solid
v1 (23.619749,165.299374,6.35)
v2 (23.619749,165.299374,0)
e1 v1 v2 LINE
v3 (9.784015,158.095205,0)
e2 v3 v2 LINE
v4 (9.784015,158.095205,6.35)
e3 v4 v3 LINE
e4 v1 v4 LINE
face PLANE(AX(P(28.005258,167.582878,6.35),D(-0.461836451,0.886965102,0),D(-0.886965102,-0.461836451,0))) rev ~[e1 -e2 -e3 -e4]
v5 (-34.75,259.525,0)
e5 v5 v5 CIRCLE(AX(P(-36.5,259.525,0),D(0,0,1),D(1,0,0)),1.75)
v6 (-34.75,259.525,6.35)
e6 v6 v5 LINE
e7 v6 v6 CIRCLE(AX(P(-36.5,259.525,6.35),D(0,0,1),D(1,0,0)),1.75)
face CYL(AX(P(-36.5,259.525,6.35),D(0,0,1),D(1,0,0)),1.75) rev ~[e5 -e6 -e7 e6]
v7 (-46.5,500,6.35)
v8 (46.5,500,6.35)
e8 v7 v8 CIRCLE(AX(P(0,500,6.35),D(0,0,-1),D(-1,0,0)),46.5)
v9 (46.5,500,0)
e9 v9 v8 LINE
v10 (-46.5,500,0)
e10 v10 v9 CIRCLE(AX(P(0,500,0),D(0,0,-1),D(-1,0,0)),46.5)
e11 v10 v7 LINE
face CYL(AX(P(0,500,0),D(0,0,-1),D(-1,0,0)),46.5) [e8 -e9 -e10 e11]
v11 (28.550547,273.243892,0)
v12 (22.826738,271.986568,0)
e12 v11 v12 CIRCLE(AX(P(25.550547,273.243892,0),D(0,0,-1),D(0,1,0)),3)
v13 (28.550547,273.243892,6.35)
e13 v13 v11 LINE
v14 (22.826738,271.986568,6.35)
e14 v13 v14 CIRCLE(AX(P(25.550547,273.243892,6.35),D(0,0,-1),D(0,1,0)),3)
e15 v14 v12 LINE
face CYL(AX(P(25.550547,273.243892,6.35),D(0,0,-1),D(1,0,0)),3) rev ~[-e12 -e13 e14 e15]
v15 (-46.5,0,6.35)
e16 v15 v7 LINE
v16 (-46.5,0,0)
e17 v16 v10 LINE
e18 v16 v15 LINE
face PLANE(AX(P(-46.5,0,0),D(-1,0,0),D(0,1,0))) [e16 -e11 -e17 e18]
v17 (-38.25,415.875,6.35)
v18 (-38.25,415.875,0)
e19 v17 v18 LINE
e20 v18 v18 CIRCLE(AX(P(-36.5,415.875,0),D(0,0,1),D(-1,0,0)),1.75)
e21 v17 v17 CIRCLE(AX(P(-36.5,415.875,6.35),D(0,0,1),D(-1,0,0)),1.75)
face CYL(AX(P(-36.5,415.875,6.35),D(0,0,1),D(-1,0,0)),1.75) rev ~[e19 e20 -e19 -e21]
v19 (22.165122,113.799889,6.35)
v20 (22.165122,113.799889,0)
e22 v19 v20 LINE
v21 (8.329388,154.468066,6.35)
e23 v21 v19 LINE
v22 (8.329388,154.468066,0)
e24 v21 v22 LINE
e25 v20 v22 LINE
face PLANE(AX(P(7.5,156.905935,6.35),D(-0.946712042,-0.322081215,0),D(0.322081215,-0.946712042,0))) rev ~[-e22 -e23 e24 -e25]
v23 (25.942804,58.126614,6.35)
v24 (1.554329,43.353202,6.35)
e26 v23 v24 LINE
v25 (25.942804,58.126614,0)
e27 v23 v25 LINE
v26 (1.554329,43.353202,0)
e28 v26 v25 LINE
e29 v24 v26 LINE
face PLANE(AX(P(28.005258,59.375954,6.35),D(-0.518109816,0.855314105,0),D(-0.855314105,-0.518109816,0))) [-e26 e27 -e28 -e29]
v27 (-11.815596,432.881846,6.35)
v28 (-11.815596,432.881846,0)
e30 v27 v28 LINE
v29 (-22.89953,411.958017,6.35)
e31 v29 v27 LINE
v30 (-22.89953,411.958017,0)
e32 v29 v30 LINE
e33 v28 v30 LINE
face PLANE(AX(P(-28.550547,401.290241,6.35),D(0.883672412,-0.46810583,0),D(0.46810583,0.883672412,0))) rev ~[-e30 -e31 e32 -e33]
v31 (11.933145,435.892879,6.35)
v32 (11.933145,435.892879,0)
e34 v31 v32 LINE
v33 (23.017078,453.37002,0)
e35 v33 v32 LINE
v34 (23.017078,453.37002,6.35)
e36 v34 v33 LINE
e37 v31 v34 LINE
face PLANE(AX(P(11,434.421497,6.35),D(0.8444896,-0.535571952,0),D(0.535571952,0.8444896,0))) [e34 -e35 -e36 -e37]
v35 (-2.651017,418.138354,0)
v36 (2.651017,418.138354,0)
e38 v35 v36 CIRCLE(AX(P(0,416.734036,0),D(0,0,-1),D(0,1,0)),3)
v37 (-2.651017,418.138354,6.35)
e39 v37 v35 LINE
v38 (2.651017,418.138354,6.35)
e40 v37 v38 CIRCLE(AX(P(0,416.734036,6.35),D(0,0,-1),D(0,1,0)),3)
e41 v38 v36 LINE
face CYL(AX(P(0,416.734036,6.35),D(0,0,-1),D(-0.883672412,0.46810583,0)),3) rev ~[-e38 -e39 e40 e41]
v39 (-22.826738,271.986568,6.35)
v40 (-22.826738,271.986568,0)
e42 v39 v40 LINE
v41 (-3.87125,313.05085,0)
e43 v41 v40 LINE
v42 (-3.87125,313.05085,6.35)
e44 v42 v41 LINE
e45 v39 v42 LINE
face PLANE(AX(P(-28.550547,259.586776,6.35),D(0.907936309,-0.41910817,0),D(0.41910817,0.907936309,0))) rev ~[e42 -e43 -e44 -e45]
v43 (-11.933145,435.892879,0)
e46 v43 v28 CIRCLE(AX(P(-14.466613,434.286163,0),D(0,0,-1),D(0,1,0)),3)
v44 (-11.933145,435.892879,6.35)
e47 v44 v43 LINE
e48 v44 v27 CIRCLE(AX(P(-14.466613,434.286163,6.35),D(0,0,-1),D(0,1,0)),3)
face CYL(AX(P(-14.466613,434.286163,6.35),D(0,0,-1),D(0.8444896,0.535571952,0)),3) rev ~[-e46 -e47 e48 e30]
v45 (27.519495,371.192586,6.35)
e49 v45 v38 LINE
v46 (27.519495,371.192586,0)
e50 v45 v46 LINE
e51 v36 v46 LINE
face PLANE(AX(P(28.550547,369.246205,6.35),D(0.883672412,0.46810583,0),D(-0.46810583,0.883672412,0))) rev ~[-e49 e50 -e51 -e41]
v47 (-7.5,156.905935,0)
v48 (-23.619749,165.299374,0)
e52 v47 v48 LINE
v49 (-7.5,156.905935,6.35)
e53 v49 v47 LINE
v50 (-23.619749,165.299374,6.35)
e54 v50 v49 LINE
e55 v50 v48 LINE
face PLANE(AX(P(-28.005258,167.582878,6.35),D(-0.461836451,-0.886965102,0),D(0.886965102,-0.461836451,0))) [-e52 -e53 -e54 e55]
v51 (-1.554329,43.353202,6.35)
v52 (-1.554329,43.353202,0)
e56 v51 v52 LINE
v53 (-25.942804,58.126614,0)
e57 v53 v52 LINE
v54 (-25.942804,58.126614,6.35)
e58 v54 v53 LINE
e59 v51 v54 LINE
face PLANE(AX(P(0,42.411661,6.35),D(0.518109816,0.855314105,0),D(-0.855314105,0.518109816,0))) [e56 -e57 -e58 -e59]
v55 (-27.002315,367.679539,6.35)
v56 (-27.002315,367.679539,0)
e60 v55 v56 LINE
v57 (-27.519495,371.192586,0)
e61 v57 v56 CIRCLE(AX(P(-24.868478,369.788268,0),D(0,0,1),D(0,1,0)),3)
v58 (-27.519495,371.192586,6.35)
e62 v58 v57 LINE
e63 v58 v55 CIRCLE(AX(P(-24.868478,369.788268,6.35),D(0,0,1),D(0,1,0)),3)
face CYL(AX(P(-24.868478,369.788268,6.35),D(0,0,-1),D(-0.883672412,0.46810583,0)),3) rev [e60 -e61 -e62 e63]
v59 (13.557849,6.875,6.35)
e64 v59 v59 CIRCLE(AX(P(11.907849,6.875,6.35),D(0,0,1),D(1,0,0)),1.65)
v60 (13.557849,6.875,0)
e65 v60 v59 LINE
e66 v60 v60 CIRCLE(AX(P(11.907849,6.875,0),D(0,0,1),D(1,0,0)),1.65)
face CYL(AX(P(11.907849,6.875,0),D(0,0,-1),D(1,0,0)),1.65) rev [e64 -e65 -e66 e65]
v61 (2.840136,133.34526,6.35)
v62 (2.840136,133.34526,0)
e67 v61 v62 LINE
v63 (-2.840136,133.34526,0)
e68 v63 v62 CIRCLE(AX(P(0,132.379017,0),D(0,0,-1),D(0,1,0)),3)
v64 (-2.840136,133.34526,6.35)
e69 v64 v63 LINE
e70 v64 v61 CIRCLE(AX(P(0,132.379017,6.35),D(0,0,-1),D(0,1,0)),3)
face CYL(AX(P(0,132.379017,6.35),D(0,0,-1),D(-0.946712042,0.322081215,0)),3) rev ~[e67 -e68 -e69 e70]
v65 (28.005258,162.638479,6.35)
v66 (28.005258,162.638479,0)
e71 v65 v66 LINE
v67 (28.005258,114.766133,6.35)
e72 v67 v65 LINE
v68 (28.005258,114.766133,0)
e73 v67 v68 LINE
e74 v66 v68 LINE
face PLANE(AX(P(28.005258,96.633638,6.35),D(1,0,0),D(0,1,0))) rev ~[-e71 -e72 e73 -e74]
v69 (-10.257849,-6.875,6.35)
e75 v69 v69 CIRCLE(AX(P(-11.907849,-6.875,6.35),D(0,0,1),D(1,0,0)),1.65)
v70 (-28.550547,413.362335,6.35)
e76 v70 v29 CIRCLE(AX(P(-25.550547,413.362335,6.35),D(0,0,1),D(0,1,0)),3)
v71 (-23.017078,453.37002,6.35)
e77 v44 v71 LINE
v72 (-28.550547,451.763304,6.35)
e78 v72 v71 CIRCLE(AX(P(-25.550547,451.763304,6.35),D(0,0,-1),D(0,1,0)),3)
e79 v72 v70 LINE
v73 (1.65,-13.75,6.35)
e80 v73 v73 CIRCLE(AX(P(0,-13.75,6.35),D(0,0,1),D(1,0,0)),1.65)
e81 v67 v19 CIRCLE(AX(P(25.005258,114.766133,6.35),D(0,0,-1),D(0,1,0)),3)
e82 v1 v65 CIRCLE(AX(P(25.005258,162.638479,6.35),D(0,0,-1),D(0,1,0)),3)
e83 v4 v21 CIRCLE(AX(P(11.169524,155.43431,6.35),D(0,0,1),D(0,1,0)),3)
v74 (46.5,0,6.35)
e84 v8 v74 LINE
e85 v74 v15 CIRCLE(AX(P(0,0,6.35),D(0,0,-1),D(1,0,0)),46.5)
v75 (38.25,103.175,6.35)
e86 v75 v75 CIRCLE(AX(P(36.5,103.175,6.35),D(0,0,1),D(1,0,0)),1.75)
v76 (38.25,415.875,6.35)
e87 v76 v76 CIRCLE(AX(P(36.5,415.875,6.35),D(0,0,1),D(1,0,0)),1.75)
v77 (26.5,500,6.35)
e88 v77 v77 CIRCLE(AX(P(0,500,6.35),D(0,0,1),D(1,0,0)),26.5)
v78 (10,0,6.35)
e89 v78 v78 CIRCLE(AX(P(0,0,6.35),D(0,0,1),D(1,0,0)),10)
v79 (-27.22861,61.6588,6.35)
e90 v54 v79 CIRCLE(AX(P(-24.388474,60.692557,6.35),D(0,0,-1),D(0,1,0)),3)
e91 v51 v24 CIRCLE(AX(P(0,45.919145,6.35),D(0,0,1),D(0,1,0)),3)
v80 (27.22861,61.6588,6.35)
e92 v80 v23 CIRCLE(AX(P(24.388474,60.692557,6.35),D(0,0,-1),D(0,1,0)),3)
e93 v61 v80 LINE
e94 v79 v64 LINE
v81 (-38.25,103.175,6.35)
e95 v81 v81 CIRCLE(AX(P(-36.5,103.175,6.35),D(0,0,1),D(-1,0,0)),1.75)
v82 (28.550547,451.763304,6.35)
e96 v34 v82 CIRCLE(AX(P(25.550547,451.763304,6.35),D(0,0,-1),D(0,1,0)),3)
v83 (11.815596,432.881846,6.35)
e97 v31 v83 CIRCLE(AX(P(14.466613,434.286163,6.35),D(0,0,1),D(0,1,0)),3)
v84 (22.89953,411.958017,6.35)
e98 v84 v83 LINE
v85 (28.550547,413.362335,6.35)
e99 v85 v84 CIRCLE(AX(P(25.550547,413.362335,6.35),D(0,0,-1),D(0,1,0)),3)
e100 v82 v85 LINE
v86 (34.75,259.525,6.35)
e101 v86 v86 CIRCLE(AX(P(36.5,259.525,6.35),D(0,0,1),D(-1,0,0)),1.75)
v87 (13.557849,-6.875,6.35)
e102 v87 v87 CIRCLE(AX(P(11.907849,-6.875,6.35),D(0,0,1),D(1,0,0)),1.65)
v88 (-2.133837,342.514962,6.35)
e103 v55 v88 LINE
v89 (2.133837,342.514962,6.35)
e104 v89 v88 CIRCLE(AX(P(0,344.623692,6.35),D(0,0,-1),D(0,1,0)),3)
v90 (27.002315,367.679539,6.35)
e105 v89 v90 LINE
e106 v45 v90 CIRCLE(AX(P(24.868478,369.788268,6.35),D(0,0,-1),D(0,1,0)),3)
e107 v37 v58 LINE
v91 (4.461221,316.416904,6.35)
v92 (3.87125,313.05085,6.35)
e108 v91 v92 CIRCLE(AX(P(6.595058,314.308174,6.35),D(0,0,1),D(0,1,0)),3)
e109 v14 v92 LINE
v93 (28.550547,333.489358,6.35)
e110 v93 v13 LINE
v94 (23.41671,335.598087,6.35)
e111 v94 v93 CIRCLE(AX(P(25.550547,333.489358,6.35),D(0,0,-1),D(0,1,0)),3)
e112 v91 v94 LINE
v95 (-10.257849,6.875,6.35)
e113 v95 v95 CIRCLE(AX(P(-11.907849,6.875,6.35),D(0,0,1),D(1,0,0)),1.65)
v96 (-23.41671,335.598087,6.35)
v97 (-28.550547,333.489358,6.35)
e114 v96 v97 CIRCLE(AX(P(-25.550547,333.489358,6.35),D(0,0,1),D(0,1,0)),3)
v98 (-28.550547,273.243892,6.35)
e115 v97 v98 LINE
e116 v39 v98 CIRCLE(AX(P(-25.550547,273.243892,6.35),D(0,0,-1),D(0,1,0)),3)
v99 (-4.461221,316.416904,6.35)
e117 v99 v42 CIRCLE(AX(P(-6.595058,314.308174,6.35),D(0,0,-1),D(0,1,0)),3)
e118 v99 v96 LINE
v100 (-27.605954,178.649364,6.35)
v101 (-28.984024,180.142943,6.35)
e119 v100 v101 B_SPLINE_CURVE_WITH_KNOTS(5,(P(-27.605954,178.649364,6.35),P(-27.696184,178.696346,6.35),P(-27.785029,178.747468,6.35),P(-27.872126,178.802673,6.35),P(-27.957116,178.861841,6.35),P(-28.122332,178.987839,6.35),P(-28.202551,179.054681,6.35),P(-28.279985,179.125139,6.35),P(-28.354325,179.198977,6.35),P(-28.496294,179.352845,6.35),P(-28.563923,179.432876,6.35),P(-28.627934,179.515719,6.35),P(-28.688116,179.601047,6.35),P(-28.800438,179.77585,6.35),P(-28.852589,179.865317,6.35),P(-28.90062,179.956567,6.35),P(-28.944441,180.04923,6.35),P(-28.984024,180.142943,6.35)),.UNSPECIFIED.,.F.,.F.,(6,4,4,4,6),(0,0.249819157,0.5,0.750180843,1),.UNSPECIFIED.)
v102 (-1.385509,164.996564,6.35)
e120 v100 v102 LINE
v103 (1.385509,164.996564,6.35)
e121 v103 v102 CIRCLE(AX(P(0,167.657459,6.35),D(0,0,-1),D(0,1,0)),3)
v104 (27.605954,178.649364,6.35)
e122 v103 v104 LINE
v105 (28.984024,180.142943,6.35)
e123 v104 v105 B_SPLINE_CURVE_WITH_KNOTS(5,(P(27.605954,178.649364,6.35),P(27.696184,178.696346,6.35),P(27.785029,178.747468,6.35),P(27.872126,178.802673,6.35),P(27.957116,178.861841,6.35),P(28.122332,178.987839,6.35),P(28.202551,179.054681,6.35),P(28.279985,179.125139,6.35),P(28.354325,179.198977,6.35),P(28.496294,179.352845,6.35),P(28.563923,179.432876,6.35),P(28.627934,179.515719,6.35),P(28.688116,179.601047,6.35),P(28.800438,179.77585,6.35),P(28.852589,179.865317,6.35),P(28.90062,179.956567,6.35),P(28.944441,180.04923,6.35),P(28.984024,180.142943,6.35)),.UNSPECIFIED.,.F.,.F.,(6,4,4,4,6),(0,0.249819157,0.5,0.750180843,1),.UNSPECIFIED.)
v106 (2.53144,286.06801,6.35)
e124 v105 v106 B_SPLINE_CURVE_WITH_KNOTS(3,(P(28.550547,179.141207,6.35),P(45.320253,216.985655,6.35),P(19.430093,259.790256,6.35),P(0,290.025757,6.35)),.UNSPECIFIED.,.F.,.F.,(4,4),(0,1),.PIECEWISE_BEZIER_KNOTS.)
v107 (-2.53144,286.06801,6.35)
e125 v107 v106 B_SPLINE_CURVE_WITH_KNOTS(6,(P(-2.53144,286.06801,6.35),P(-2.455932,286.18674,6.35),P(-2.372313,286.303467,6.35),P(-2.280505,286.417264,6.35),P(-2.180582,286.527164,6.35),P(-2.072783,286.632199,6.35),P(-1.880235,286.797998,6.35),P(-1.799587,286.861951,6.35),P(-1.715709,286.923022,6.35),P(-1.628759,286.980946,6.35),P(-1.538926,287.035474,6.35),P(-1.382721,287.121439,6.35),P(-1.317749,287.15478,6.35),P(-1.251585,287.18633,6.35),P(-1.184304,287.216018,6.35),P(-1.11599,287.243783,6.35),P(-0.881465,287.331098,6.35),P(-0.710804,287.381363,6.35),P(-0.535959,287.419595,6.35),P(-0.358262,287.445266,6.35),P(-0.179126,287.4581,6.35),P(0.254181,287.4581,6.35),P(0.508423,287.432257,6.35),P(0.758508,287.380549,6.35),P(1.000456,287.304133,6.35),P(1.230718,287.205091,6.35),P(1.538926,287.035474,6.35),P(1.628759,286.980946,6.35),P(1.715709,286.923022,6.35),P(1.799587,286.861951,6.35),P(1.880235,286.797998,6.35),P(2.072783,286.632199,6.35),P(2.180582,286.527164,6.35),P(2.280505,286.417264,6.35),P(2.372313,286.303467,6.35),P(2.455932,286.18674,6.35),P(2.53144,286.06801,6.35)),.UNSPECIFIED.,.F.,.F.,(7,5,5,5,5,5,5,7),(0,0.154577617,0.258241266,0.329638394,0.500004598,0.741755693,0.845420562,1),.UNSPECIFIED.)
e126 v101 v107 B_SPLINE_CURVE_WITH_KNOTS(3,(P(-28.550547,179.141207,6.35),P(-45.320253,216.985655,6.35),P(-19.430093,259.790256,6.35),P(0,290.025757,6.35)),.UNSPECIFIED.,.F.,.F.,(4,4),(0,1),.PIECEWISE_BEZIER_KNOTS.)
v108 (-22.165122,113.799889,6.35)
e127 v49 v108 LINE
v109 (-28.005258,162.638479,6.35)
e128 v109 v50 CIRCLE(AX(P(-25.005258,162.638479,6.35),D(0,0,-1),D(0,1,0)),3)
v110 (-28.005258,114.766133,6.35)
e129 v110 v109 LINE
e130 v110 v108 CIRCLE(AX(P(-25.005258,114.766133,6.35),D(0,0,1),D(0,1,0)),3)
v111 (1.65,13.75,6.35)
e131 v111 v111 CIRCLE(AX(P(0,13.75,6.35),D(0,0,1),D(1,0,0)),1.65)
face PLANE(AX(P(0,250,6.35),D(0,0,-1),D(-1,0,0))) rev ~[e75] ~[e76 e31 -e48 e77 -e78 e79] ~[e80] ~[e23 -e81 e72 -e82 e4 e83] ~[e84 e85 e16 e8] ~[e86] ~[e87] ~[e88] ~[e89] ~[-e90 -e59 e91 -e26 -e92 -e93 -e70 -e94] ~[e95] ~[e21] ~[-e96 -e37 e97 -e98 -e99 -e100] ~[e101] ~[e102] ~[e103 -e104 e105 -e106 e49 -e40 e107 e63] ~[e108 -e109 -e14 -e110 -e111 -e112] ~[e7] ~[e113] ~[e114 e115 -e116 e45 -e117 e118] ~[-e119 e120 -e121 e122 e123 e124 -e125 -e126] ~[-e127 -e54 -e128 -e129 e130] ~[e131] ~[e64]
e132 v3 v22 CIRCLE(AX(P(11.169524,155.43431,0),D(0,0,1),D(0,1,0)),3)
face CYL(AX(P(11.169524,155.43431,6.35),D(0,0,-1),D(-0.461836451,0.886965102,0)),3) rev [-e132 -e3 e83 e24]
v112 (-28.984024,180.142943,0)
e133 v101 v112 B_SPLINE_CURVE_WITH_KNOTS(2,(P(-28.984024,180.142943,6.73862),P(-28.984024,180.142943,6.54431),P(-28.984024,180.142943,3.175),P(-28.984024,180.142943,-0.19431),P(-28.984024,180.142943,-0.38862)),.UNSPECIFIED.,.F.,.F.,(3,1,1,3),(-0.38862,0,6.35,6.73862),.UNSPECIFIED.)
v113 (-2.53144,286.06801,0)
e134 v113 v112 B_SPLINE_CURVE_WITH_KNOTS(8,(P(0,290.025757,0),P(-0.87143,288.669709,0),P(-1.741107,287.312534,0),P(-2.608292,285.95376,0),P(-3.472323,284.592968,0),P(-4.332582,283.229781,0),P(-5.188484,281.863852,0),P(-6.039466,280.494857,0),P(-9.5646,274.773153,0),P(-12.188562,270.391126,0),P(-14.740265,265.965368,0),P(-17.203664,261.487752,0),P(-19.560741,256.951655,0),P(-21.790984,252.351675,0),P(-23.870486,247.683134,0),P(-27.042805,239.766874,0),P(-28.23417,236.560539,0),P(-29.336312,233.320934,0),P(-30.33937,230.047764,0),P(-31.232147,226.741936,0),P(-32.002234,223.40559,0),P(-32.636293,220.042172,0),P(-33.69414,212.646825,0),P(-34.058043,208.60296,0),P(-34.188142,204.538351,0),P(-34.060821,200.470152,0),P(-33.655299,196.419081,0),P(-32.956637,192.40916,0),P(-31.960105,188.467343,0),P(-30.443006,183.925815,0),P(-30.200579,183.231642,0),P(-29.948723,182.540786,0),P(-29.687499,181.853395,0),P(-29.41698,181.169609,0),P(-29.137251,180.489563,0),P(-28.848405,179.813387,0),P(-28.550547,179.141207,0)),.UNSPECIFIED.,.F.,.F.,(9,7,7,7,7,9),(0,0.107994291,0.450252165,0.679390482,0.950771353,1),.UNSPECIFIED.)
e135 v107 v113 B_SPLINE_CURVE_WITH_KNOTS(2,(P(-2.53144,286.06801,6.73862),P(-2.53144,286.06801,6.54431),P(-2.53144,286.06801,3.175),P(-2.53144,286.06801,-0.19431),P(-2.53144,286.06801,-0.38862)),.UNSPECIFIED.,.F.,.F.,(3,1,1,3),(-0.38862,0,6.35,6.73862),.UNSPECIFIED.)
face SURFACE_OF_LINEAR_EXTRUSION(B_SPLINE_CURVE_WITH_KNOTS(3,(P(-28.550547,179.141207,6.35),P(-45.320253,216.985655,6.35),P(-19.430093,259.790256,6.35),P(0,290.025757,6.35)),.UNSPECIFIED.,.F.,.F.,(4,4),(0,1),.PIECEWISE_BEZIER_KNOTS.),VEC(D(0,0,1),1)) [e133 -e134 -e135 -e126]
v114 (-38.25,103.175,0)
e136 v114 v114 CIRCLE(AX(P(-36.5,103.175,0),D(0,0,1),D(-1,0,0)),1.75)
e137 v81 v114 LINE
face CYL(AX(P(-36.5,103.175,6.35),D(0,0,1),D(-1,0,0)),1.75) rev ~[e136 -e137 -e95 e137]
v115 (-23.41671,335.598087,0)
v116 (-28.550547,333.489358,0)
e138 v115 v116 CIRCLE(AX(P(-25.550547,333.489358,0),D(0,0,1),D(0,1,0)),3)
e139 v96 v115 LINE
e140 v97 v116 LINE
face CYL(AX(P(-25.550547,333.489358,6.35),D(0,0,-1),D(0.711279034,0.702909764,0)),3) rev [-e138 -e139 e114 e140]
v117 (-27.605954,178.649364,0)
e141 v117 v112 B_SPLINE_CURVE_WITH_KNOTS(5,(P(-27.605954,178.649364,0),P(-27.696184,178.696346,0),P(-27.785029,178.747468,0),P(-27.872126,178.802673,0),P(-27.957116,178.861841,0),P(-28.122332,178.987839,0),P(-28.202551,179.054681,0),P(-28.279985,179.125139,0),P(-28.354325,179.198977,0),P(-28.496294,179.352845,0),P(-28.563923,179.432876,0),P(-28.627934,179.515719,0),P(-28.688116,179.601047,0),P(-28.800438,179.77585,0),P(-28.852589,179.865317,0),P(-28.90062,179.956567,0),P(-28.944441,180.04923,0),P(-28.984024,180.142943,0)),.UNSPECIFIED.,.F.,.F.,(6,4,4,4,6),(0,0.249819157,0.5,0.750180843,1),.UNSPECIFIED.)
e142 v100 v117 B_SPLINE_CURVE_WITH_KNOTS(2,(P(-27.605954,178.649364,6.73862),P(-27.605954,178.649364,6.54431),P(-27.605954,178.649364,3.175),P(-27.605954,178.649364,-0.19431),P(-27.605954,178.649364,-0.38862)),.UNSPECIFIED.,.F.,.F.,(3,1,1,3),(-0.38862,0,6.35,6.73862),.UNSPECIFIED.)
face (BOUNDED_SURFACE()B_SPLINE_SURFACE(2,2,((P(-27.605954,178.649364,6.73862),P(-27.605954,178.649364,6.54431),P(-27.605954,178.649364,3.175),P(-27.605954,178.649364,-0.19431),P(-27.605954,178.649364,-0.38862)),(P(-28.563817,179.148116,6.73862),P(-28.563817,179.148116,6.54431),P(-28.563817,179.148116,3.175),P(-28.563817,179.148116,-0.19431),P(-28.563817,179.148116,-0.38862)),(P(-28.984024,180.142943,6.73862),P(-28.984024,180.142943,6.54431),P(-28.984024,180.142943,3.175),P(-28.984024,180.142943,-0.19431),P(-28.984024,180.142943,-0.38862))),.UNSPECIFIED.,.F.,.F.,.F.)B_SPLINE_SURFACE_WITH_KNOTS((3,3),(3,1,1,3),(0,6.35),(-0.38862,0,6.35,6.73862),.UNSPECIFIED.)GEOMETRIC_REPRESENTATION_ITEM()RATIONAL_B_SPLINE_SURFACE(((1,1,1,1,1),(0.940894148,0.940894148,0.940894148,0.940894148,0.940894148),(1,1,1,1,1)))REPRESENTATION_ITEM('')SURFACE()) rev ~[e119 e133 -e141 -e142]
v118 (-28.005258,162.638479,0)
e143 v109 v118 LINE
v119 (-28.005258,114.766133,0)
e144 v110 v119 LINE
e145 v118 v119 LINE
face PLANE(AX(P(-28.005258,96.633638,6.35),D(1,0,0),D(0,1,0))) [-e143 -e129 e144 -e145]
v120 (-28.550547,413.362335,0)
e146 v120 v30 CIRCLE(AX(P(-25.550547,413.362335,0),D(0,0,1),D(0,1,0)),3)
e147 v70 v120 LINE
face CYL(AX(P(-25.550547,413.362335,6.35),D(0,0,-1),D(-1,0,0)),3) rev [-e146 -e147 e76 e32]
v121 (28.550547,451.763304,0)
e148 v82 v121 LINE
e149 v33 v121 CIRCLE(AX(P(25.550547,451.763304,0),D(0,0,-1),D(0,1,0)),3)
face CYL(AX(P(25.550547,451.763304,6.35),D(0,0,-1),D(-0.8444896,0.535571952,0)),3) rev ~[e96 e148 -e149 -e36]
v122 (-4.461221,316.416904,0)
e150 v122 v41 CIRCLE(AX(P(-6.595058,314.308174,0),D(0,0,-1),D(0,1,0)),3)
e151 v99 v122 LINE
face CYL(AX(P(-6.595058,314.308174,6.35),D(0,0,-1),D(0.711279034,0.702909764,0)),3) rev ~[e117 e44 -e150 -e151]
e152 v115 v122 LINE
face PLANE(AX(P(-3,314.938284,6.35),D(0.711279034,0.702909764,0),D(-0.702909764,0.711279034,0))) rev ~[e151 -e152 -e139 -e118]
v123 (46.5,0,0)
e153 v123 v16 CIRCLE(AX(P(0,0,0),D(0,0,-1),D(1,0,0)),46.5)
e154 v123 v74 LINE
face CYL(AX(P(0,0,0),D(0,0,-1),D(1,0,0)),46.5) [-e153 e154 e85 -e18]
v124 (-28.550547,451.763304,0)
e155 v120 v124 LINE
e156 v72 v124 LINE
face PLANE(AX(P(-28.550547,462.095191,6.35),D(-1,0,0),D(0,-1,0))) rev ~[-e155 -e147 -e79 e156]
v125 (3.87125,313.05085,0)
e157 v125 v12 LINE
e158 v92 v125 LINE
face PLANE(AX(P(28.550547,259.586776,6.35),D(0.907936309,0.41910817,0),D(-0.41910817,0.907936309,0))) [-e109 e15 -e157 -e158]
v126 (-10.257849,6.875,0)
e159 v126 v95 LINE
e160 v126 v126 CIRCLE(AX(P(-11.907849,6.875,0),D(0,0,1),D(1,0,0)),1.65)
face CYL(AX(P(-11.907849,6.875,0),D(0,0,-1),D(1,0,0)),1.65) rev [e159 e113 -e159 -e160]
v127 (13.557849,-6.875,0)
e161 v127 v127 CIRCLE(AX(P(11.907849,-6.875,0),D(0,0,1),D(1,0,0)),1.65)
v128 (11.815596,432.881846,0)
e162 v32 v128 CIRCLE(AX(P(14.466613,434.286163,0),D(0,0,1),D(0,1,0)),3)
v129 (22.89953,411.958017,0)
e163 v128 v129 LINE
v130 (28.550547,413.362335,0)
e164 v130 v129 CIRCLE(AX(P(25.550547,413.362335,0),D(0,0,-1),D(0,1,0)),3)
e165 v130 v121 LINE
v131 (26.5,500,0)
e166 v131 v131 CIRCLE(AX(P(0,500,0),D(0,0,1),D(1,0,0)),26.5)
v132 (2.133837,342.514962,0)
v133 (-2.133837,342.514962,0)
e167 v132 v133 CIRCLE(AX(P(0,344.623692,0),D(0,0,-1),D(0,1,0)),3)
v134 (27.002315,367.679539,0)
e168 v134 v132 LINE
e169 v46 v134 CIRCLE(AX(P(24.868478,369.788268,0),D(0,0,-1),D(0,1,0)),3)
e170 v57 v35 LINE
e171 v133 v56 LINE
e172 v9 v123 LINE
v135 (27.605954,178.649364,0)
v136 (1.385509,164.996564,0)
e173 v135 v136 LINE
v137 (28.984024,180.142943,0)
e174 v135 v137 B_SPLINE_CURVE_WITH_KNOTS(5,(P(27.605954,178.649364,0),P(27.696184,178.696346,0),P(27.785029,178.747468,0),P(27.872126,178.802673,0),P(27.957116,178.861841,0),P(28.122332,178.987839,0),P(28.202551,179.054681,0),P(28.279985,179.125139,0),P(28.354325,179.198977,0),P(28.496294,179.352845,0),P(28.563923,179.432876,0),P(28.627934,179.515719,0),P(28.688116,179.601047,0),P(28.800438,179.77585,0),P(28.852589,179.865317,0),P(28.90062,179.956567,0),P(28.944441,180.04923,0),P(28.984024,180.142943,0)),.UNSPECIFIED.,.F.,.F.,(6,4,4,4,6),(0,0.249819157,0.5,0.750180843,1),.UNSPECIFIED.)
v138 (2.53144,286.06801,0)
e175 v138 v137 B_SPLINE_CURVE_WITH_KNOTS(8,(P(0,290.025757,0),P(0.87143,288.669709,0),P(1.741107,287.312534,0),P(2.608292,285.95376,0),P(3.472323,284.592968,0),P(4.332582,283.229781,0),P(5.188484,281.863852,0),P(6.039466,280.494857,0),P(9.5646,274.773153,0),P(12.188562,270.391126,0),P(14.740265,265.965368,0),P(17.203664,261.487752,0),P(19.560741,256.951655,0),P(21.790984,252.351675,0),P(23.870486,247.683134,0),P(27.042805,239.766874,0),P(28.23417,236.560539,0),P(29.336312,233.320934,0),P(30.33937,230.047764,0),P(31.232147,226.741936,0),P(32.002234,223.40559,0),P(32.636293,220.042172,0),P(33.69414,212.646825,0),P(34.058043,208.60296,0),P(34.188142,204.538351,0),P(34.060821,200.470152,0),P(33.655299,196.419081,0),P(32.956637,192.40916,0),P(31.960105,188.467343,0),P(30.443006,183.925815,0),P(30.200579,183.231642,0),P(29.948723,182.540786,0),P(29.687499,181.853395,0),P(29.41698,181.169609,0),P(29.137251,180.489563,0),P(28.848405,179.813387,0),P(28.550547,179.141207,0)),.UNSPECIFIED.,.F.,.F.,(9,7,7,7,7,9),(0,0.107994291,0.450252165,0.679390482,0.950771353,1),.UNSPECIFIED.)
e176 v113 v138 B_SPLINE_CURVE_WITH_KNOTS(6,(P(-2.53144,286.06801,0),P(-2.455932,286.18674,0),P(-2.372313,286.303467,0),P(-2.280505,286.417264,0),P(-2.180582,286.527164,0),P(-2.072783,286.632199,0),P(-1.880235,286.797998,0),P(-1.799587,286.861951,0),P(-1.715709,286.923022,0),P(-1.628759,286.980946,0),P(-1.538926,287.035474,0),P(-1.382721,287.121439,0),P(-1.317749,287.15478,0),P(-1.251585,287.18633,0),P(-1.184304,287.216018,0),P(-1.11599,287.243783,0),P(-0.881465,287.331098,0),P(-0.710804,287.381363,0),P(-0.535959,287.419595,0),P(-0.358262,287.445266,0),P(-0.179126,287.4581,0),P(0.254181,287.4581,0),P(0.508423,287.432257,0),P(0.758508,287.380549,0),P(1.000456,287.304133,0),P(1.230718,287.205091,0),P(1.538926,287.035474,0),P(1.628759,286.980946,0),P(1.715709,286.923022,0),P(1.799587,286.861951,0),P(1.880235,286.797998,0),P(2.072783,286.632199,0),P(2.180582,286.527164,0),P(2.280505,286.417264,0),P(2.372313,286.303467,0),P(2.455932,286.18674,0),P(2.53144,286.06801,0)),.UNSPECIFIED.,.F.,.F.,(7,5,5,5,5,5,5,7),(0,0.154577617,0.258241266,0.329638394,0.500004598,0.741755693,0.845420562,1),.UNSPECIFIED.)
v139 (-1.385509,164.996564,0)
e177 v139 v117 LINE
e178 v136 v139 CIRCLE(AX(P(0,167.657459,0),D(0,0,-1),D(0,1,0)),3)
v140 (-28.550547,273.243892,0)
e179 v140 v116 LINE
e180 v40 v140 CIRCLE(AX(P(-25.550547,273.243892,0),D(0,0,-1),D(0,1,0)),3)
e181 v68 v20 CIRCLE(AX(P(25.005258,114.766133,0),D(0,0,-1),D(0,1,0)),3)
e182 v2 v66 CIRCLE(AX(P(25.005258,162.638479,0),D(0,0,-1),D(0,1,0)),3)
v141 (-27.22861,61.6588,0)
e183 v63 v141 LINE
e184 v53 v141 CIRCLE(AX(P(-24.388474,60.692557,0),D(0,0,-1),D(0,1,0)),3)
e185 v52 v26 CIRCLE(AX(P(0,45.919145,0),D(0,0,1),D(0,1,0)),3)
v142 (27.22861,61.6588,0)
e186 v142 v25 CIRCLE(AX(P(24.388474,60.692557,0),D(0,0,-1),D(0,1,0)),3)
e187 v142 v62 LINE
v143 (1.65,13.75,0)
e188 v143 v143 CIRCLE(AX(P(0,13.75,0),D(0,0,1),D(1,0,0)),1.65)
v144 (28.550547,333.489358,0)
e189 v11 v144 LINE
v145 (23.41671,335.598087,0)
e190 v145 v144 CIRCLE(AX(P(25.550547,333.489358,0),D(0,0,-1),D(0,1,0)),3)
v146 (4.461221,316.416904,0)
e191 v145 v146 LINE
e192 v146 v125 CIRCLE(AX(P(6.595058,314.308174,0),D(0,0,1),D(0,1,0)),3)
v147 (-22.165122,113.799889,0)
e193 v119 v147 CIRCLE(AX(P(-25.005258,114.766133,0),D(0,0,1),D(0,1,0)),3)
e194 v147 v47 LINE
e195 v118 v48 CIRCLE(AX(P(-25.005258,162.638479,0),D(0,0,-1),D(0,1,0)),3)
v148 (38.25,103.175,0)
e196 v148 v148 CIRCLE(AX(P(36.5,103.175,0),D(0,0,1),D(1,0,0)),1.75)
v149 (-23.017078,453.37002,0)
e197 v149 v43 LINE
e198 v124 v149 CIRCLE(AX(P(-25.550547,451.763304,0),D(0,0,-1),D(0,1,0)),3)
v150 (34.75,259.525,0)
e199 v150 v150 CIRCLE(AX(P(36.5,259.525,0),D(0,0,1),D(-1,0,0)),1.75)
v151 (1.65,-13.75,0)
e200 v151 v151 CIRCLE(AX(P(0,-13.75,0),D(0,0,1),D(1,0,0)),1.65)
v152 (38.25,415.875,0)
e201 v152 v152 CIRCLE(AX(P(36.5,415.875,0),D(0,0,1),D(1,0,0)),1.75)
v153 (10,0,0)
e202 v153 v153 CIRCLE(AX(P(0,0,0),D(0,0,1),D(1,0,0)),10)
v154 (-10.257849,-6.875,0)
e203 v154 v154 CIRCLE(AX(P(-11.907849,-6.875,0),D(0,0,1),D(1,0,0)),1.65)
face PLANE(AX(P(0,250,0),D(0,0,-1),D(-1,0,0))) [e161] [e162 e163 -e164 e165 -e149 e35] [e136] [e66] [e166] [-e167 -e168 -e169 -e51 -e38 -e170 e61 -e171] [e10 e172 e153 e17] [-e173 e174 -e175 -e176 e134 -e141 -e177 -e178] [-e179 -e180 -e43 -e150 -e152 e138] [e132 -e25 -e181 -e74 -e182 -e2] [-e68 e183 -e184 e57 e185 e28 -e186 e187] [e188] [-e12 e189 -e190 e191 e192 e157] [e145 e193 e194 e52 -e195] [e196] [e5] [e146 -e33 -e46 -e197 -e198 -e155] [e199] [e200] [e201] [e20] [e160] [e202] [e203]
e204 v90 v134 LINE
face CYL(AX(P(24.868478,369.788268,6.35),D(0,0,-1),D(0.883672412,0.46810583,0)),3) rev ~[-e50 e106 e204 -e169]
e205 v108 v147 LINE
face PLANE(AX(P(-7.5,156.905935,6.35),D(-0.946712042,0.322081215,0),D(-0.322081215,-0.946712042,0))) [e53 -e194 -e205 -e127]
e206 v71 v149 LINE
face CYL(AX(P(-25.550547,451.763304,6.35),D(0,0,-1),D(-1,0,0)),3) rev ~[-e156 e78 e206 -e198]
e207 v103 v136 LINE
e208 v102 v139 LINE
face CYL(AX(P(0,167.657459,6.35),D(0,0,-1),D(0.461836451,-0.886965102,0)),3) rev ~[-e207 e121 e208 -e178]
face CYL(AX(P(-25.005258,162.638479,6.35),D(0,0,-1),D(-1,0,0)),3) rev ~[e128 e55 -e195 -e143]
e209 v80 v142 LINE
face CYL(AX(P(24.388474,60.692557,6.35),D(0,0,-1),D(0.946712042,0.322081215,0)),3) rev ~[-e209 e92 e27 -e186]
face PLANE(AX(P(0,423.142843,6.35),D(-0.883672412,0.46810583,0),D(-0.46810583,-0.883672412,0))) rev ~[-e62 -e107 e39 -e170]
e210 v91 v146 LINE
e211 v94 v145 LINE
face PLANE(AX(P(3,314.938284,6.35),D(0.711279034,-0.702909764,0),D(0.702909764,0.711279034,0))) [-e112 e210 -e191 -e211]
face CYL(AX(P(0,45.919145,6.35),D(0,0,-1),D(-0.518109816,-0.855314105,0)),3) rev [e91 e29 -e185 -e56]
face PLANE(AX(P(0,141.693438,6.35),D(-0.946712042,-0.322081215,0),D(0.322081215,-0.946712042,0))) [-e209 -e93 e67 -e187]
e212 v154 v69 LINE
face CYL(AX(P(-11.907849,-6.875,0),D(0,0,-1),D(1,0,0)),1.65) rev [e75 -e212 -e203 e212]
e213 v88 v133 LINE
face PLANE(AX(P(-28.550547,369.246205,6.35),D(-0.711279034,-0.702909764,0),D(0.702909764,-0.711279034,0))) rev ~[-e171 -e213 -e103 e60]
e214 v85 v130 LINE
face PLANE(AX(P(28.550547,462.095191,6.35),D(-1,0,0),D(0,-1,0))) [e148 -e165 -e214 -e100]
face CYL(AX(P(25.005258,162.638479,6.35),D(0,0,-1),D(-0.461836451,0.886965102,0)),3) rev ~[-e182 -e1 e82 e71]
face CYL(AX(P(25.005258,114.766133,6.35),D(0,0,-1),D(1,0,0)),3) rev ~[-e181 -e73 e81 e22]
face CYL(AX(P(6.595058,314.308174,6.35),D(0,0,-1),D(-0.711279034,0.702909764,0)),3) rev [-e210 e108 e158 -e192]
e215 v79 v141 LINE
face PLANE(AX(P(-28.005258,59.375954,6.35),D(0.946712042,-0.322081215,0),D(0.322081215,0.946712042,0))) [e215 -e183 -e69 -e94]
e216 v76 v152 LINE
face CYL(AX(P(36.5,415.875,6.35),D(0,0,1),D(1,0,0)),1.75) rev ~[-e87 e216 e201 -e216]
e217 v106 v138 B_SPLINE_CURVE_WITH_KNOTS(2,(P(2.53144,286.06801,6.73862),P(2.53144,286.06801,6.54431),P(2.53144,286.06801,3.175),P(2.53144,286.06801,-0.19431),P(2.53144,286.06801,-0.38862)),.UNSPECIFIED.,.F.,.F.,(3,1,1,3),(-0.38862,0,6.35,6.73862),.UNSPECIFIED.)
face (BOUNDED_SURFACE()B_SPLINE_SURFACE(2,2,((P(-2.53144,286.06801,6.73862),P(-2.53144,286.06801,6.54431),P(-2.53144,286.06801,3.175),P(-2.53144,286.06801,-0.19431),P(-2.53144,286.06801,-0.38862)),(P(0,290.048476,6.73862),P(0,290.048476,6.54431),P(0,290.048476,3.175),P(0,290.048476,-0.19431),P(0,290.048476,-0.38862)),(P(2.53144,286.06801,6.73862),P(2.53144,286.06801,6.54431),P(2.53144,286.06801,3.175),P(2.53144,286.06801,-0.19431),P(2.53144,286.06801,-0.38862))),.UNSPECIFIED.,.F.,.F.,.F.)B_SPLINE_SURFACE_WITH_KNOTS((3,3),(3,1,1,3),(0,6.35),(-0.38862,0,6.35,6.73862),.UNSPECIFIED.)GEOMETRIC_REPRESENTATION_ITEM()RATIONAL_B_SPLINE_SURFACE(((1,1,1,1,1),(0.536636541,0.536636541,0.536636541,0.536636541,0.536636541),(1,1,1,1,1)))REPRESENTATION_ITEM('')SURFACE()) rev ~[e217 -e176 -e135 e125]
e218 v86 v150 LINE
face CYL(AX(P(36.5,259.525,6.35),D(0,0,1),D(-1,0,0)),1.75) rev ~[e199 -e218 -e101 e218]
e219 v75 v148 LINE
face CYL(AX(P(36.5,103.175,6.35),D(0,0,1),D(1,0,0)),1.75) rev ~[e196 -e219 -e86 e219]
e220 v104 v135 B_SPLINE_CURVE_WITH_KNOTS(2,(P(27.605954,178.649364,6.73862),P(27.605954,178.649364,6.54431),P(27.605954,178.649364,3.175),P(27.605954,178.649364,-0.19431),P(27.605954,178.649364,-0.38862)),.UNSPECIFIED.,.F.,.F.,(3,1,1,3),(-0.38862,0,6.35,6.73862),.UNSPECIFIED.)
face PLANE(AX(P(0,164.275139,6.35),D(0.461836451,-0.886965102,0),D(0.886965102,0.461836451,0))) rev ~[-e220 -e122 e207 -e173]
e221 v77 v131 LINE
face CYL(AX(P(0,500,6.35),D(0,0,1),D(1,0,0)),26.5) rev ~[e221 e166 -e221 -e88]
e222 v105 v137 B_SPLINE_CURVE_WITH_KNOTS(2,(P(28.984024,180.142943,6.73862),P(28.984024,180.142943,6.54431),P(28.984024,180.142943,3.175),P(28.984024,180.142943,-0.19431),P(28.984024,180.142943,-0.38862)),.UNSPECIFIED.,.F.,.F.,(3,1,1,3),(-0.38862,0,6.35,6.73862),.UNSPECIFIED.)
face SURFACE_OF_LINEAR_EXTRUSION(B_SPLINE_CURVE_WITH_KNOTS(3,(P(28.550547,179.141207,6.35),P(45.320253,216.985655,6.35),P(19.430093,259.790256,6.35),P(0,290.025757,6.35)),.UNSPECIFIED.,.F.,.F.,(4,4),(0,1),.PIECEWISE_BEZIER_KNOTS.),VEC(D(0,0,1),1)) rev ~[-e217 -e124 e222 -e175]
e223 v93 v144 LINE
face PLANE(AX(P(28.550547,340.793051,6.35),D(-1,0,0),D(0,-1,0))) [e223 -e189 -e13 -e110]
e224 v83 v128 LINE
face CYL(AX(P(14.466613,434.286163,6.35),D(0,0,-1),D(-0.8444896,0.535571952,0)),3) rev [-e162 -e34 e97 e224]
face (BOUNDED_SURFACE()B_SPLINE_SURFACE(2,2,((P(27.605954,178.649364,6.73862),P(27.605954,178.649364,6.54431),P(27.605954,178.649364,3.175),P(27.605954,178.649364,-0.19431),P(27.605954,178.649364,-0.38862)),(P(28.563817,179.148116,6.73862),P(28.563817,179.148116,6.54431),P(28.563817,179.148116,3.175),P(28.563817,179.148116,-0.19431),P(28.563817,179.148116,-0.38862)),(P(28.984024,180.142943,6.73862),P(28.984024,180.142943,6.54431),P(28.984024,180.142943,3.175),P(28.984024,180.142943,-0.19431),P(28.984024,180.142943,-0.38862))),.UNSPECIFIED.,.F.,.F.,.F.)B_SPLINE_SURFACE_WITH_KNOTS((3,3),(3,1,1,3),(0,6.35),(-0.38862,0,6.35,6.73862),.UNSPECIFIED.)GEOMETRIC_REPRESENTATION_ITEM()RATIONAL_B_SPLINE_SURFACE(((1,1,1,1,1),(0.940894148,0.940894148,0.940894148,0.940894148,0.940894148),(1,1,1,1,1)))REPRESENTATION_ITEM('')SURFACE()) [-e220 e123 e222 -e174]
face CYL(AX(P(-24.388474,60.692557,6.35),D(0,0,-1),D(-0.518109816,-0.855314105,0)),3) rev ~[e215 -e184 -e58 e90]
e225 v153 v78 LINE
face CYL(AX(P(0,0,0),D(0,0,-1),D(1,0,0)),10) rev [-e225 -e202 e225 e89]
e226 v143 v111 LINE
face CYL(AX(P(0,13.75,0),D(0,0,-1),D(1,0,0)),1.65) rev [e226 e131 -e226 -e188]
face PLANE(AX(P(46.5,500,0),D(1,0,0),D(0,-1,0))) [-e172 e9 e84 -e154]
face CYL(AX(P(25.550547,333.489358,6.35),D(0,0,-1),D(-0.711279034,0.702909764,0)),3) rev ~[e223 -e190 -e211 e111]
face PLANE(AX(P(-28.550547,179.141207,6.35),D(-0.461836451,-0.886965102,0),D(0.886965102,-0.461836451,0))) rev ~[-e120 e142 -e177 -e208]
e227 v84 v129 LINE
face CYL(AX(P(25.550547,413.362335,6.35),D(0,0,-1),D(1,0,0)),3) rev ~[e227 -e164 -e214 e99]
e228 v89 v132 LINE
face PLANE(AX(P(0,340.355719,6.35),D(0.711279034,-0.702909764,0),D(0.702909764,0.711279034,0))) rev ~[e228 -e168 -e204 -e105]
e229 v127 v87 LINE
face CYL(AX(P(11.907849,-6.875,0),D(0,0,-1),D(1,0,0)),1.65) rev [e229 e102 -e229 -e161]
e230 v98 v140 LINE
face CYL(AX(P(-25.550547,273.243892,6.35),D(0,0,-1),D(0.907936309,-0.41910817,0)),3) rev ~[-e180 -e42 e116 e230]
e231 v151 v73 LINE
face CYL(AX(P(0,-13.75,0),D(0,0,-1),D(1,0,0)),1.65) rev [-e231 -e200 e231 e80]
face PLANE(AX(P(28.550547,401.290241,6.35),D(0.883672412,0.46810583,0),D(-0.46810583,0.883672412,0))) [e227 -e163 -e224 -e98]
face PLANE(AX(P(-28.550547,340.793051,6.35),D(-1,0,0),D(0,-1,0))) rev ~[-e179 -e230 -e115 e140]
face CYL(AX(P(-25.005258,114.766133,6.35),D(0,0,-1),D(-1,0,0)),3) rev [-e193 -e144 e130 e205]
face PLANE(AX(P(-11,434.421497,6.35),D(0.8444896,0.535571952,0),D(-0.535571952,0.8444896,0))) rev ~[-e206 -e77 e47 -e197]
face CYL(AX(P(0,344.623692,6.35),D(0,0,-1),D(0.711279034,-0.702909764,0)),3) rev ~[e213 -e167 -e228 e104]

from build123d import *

# Parameters (mm, degrees)
SKETCH2_R           = 10
SKETCH2_R_2         = 1.65
BOSS_EXTRUDE1_DEPTH = 6.35
CUT_EXTRUDE1_DEPTH  = 10
FILLET3_R           = 3
SKETCH5_R           = 1.75
CUT_EXTRUDE2_DEPTH  = 549.511460792
SKETCH6_R           = 26.5
CUT_EXTRUDE3_DEPTH  = 10


with BuildPart() as part:
    # Sketch2 → Boss-Extrude1 (new body)
    with BuildSketch(Plane.XY):
        with BuildLine():
            Line((-46.5, 0), (-46.5, 500))
            ThreePointArc((-46.5, 500), (0, 546.5), (46.5, 500))
            Line((46.5, 500), (46.5, 0))
            ThreePointArc((46.5, 0), (0, -46.5), (-46.5, 0))
        make_face()
        Circle(SKETCH2_R, mode=Mode.SUBTRACT)
        with Locations((0, 13.75)):
            Circle(SKETCH2_R_2, mode=Mode.SUBTRACT)
        with Locations((11.907849302, 6.875)):
            Circle(SKETCH2_R_2, mode=Mode.SUBTRACT)
        with Locations((11.907849302, -6.875)):
            Circle(SKETCH2_R_2, mode=Mode.SUBTRACT)
        with Locations((0, -13.75)):
            Circle(SKETCH2_R_2, mode=Mode.SUBTRACT)
        with Locations((-11.907849302, -6.875)):
            Circle(SKETCH2_R_2, mode=Mode.SUBTRACT)
        with Locations((-11.907849302, 6.875)):
            Circle(SKETCH2_R_2, mode=Mode.SUBTRACT)
    extrude(amount=BOSS_EXTRUDE1_DEPTH)

    # Sketch4 → Cut-Extrude1 (cut)
    with BuildSketch(Plane.XY.offset(6.35)):
        Polygon((28.005258112, 59.37595418), (0, 42.411661153), (-28.005258112, 59.37595418), (0, 141.693437584), align=None)
        Polygon((-7.5, 156.905935087), (-28.005258112, 96.633637735), (-28.005258112, 167.582877854), align=None)
        Polygon((28.005258112, 167.582877854), (7.5, 156.905935087), (28.005258112, 96.633637735), align=None)
        with BuildLine():
            Line((0, 164.275138905), (28.550546746, 179.141206521))
            add(Edge.make_bspline(
                [(28.550546746, 179.141206521), (45.32025339, 216.985654627), (19.430092874, 259.790255689), (0, 290.025756679)],
                knots=[0, 0, 0, 0, 1, 1, 1, 1], degree=3))
            add(Edge.make_bspline(
                [(-28.550546746, 179.141206521), (-45.32025339, 216.985654627), (-19.430092874, 259.790255689), (0, 290.025756679)],
                knots=[0, 0, 0, 0, 1, 1, 1, 1], degree=3))
            Line((-28.550546746, 179.141206521), (0, 164.275138905))
        make_face()
        Polygon((28.550546746, 259.58677623), (3, 314.938284003), (28.550546746, 340.793051053), align=None)
        Polygon((-3, 314.938284003), (-28.550546746, 340.793051053), (-28.550546746, 259.58677623), align=None)
        Polygon((0, 423.142843498), (-28.550546746, 369.246205395), (0, 340.355718526), (28.550546746, 369.246205395), align=None)
        Polygon((-28.550546746, 462.095190817), (-28.550546746, 401.290241252), (-11, 434.421497018), align=None)
        Polygon((28.550546746, 401.290241252), (11, 434.421497018), (28.550546746, 462.095190817), align=None)
    extrude(amount=-CUT_EXTRUDE1_DEPTH, mode=Mode.SUBTRACT)

    # Fillet3
    fillet3_edges = [part.edges().sort_by_distance(p)[0] for p in [
        (-11, 434.421497018, 3.175),
        (-28.550546746, 401.290241252, 3.175),
        (28.550546746, 401.290241252, 3.175),
        (11, 434.421497018, 3.175),
        (28.550546746, 462.095190817, 3.175),
        (-28.550546746, 462.095190817, 3.175),
        (0, 423.142843498, 3.175),
        (-28.550546746, 369.246205395, 3.175),
        (28.550546746, 369.246205395, 3.175),
        (0, 340.355718526, 3.175),
        (28.550546746, 340.793051053, 3.175),
        (-28.550546746, 340.793051053, 3.175),
        (-3, 314.938284003, 3.175),
        (3, 314.938284003, 3.175),
        (28.550546746, 259.58677623, 3.175),
        (-28.550546746, 259.58677623, 3.175),
        (28.550546746, 179.141206521, 3.175),
        (0, 290.025756679, 3.175),
        (-28.550546746, 179.141206521, 3.175),
        (0, 164.275138905, 3.175),
        (-28.005258112, 96.633637735, 3.175),
        (28.005258112, 96.633637735, 3.175),
        (7.5, 156.905935087, 3.175),
        (-28.005258112, 167.582877854, 3.175),
        (28.005258112, 167.582877854, 3.175),
        (0, 141.693437584, 3.175),
        (28.005258112, 59.37595418, 3.175),
        (-28.005258112, 59.37595418, 3.175),
        (0, 42.411661153, 3.175),
    ]]
    fillet(fillet3_edges, radius=FILLET3_R)

    # Sketch5 → Cut-Extrude2 (cut, through all)
    with BuildSketch(Plane.XY.offset(6.35)):
        with Locations((36.5, 103.175)):
            Circle(SKETCH5_R)
        with Locations(Location((-36.5, 103.175, 0), (0, 0, 180))):
            Circle(SKETCH5_R)
        with Locations(Location((36.5, 259.525, 0), (0, 0, 180))):
            Circle(SKETCH5_R)
        with Locations((-36.5, 259.525)):
            Circle(SKETCH5_R)
        with Locations((36.5, 415.875)):
            Circle(SKETCH5_R)
        with Locations(Location((-36.5, 415.875, 0), (0, 0, 180))):
            Circle(SKETCH5_R)
    extrude(amount=-CUT_EXTRUDE2_DEPTH, mode=Mode.SUBTRACT)

    # Sketch6 → Cut-Extrude3 (cut)
    with BuildSketch(Plane.XY.offset(6.35)):
        with Locations((0, 500)):
            Circle(SKETCH6_R)
    extrude(amount=-CUT_EXTRUDE3_DEPTH, mode=Mode.SUBTRACT)


solid = part.part
